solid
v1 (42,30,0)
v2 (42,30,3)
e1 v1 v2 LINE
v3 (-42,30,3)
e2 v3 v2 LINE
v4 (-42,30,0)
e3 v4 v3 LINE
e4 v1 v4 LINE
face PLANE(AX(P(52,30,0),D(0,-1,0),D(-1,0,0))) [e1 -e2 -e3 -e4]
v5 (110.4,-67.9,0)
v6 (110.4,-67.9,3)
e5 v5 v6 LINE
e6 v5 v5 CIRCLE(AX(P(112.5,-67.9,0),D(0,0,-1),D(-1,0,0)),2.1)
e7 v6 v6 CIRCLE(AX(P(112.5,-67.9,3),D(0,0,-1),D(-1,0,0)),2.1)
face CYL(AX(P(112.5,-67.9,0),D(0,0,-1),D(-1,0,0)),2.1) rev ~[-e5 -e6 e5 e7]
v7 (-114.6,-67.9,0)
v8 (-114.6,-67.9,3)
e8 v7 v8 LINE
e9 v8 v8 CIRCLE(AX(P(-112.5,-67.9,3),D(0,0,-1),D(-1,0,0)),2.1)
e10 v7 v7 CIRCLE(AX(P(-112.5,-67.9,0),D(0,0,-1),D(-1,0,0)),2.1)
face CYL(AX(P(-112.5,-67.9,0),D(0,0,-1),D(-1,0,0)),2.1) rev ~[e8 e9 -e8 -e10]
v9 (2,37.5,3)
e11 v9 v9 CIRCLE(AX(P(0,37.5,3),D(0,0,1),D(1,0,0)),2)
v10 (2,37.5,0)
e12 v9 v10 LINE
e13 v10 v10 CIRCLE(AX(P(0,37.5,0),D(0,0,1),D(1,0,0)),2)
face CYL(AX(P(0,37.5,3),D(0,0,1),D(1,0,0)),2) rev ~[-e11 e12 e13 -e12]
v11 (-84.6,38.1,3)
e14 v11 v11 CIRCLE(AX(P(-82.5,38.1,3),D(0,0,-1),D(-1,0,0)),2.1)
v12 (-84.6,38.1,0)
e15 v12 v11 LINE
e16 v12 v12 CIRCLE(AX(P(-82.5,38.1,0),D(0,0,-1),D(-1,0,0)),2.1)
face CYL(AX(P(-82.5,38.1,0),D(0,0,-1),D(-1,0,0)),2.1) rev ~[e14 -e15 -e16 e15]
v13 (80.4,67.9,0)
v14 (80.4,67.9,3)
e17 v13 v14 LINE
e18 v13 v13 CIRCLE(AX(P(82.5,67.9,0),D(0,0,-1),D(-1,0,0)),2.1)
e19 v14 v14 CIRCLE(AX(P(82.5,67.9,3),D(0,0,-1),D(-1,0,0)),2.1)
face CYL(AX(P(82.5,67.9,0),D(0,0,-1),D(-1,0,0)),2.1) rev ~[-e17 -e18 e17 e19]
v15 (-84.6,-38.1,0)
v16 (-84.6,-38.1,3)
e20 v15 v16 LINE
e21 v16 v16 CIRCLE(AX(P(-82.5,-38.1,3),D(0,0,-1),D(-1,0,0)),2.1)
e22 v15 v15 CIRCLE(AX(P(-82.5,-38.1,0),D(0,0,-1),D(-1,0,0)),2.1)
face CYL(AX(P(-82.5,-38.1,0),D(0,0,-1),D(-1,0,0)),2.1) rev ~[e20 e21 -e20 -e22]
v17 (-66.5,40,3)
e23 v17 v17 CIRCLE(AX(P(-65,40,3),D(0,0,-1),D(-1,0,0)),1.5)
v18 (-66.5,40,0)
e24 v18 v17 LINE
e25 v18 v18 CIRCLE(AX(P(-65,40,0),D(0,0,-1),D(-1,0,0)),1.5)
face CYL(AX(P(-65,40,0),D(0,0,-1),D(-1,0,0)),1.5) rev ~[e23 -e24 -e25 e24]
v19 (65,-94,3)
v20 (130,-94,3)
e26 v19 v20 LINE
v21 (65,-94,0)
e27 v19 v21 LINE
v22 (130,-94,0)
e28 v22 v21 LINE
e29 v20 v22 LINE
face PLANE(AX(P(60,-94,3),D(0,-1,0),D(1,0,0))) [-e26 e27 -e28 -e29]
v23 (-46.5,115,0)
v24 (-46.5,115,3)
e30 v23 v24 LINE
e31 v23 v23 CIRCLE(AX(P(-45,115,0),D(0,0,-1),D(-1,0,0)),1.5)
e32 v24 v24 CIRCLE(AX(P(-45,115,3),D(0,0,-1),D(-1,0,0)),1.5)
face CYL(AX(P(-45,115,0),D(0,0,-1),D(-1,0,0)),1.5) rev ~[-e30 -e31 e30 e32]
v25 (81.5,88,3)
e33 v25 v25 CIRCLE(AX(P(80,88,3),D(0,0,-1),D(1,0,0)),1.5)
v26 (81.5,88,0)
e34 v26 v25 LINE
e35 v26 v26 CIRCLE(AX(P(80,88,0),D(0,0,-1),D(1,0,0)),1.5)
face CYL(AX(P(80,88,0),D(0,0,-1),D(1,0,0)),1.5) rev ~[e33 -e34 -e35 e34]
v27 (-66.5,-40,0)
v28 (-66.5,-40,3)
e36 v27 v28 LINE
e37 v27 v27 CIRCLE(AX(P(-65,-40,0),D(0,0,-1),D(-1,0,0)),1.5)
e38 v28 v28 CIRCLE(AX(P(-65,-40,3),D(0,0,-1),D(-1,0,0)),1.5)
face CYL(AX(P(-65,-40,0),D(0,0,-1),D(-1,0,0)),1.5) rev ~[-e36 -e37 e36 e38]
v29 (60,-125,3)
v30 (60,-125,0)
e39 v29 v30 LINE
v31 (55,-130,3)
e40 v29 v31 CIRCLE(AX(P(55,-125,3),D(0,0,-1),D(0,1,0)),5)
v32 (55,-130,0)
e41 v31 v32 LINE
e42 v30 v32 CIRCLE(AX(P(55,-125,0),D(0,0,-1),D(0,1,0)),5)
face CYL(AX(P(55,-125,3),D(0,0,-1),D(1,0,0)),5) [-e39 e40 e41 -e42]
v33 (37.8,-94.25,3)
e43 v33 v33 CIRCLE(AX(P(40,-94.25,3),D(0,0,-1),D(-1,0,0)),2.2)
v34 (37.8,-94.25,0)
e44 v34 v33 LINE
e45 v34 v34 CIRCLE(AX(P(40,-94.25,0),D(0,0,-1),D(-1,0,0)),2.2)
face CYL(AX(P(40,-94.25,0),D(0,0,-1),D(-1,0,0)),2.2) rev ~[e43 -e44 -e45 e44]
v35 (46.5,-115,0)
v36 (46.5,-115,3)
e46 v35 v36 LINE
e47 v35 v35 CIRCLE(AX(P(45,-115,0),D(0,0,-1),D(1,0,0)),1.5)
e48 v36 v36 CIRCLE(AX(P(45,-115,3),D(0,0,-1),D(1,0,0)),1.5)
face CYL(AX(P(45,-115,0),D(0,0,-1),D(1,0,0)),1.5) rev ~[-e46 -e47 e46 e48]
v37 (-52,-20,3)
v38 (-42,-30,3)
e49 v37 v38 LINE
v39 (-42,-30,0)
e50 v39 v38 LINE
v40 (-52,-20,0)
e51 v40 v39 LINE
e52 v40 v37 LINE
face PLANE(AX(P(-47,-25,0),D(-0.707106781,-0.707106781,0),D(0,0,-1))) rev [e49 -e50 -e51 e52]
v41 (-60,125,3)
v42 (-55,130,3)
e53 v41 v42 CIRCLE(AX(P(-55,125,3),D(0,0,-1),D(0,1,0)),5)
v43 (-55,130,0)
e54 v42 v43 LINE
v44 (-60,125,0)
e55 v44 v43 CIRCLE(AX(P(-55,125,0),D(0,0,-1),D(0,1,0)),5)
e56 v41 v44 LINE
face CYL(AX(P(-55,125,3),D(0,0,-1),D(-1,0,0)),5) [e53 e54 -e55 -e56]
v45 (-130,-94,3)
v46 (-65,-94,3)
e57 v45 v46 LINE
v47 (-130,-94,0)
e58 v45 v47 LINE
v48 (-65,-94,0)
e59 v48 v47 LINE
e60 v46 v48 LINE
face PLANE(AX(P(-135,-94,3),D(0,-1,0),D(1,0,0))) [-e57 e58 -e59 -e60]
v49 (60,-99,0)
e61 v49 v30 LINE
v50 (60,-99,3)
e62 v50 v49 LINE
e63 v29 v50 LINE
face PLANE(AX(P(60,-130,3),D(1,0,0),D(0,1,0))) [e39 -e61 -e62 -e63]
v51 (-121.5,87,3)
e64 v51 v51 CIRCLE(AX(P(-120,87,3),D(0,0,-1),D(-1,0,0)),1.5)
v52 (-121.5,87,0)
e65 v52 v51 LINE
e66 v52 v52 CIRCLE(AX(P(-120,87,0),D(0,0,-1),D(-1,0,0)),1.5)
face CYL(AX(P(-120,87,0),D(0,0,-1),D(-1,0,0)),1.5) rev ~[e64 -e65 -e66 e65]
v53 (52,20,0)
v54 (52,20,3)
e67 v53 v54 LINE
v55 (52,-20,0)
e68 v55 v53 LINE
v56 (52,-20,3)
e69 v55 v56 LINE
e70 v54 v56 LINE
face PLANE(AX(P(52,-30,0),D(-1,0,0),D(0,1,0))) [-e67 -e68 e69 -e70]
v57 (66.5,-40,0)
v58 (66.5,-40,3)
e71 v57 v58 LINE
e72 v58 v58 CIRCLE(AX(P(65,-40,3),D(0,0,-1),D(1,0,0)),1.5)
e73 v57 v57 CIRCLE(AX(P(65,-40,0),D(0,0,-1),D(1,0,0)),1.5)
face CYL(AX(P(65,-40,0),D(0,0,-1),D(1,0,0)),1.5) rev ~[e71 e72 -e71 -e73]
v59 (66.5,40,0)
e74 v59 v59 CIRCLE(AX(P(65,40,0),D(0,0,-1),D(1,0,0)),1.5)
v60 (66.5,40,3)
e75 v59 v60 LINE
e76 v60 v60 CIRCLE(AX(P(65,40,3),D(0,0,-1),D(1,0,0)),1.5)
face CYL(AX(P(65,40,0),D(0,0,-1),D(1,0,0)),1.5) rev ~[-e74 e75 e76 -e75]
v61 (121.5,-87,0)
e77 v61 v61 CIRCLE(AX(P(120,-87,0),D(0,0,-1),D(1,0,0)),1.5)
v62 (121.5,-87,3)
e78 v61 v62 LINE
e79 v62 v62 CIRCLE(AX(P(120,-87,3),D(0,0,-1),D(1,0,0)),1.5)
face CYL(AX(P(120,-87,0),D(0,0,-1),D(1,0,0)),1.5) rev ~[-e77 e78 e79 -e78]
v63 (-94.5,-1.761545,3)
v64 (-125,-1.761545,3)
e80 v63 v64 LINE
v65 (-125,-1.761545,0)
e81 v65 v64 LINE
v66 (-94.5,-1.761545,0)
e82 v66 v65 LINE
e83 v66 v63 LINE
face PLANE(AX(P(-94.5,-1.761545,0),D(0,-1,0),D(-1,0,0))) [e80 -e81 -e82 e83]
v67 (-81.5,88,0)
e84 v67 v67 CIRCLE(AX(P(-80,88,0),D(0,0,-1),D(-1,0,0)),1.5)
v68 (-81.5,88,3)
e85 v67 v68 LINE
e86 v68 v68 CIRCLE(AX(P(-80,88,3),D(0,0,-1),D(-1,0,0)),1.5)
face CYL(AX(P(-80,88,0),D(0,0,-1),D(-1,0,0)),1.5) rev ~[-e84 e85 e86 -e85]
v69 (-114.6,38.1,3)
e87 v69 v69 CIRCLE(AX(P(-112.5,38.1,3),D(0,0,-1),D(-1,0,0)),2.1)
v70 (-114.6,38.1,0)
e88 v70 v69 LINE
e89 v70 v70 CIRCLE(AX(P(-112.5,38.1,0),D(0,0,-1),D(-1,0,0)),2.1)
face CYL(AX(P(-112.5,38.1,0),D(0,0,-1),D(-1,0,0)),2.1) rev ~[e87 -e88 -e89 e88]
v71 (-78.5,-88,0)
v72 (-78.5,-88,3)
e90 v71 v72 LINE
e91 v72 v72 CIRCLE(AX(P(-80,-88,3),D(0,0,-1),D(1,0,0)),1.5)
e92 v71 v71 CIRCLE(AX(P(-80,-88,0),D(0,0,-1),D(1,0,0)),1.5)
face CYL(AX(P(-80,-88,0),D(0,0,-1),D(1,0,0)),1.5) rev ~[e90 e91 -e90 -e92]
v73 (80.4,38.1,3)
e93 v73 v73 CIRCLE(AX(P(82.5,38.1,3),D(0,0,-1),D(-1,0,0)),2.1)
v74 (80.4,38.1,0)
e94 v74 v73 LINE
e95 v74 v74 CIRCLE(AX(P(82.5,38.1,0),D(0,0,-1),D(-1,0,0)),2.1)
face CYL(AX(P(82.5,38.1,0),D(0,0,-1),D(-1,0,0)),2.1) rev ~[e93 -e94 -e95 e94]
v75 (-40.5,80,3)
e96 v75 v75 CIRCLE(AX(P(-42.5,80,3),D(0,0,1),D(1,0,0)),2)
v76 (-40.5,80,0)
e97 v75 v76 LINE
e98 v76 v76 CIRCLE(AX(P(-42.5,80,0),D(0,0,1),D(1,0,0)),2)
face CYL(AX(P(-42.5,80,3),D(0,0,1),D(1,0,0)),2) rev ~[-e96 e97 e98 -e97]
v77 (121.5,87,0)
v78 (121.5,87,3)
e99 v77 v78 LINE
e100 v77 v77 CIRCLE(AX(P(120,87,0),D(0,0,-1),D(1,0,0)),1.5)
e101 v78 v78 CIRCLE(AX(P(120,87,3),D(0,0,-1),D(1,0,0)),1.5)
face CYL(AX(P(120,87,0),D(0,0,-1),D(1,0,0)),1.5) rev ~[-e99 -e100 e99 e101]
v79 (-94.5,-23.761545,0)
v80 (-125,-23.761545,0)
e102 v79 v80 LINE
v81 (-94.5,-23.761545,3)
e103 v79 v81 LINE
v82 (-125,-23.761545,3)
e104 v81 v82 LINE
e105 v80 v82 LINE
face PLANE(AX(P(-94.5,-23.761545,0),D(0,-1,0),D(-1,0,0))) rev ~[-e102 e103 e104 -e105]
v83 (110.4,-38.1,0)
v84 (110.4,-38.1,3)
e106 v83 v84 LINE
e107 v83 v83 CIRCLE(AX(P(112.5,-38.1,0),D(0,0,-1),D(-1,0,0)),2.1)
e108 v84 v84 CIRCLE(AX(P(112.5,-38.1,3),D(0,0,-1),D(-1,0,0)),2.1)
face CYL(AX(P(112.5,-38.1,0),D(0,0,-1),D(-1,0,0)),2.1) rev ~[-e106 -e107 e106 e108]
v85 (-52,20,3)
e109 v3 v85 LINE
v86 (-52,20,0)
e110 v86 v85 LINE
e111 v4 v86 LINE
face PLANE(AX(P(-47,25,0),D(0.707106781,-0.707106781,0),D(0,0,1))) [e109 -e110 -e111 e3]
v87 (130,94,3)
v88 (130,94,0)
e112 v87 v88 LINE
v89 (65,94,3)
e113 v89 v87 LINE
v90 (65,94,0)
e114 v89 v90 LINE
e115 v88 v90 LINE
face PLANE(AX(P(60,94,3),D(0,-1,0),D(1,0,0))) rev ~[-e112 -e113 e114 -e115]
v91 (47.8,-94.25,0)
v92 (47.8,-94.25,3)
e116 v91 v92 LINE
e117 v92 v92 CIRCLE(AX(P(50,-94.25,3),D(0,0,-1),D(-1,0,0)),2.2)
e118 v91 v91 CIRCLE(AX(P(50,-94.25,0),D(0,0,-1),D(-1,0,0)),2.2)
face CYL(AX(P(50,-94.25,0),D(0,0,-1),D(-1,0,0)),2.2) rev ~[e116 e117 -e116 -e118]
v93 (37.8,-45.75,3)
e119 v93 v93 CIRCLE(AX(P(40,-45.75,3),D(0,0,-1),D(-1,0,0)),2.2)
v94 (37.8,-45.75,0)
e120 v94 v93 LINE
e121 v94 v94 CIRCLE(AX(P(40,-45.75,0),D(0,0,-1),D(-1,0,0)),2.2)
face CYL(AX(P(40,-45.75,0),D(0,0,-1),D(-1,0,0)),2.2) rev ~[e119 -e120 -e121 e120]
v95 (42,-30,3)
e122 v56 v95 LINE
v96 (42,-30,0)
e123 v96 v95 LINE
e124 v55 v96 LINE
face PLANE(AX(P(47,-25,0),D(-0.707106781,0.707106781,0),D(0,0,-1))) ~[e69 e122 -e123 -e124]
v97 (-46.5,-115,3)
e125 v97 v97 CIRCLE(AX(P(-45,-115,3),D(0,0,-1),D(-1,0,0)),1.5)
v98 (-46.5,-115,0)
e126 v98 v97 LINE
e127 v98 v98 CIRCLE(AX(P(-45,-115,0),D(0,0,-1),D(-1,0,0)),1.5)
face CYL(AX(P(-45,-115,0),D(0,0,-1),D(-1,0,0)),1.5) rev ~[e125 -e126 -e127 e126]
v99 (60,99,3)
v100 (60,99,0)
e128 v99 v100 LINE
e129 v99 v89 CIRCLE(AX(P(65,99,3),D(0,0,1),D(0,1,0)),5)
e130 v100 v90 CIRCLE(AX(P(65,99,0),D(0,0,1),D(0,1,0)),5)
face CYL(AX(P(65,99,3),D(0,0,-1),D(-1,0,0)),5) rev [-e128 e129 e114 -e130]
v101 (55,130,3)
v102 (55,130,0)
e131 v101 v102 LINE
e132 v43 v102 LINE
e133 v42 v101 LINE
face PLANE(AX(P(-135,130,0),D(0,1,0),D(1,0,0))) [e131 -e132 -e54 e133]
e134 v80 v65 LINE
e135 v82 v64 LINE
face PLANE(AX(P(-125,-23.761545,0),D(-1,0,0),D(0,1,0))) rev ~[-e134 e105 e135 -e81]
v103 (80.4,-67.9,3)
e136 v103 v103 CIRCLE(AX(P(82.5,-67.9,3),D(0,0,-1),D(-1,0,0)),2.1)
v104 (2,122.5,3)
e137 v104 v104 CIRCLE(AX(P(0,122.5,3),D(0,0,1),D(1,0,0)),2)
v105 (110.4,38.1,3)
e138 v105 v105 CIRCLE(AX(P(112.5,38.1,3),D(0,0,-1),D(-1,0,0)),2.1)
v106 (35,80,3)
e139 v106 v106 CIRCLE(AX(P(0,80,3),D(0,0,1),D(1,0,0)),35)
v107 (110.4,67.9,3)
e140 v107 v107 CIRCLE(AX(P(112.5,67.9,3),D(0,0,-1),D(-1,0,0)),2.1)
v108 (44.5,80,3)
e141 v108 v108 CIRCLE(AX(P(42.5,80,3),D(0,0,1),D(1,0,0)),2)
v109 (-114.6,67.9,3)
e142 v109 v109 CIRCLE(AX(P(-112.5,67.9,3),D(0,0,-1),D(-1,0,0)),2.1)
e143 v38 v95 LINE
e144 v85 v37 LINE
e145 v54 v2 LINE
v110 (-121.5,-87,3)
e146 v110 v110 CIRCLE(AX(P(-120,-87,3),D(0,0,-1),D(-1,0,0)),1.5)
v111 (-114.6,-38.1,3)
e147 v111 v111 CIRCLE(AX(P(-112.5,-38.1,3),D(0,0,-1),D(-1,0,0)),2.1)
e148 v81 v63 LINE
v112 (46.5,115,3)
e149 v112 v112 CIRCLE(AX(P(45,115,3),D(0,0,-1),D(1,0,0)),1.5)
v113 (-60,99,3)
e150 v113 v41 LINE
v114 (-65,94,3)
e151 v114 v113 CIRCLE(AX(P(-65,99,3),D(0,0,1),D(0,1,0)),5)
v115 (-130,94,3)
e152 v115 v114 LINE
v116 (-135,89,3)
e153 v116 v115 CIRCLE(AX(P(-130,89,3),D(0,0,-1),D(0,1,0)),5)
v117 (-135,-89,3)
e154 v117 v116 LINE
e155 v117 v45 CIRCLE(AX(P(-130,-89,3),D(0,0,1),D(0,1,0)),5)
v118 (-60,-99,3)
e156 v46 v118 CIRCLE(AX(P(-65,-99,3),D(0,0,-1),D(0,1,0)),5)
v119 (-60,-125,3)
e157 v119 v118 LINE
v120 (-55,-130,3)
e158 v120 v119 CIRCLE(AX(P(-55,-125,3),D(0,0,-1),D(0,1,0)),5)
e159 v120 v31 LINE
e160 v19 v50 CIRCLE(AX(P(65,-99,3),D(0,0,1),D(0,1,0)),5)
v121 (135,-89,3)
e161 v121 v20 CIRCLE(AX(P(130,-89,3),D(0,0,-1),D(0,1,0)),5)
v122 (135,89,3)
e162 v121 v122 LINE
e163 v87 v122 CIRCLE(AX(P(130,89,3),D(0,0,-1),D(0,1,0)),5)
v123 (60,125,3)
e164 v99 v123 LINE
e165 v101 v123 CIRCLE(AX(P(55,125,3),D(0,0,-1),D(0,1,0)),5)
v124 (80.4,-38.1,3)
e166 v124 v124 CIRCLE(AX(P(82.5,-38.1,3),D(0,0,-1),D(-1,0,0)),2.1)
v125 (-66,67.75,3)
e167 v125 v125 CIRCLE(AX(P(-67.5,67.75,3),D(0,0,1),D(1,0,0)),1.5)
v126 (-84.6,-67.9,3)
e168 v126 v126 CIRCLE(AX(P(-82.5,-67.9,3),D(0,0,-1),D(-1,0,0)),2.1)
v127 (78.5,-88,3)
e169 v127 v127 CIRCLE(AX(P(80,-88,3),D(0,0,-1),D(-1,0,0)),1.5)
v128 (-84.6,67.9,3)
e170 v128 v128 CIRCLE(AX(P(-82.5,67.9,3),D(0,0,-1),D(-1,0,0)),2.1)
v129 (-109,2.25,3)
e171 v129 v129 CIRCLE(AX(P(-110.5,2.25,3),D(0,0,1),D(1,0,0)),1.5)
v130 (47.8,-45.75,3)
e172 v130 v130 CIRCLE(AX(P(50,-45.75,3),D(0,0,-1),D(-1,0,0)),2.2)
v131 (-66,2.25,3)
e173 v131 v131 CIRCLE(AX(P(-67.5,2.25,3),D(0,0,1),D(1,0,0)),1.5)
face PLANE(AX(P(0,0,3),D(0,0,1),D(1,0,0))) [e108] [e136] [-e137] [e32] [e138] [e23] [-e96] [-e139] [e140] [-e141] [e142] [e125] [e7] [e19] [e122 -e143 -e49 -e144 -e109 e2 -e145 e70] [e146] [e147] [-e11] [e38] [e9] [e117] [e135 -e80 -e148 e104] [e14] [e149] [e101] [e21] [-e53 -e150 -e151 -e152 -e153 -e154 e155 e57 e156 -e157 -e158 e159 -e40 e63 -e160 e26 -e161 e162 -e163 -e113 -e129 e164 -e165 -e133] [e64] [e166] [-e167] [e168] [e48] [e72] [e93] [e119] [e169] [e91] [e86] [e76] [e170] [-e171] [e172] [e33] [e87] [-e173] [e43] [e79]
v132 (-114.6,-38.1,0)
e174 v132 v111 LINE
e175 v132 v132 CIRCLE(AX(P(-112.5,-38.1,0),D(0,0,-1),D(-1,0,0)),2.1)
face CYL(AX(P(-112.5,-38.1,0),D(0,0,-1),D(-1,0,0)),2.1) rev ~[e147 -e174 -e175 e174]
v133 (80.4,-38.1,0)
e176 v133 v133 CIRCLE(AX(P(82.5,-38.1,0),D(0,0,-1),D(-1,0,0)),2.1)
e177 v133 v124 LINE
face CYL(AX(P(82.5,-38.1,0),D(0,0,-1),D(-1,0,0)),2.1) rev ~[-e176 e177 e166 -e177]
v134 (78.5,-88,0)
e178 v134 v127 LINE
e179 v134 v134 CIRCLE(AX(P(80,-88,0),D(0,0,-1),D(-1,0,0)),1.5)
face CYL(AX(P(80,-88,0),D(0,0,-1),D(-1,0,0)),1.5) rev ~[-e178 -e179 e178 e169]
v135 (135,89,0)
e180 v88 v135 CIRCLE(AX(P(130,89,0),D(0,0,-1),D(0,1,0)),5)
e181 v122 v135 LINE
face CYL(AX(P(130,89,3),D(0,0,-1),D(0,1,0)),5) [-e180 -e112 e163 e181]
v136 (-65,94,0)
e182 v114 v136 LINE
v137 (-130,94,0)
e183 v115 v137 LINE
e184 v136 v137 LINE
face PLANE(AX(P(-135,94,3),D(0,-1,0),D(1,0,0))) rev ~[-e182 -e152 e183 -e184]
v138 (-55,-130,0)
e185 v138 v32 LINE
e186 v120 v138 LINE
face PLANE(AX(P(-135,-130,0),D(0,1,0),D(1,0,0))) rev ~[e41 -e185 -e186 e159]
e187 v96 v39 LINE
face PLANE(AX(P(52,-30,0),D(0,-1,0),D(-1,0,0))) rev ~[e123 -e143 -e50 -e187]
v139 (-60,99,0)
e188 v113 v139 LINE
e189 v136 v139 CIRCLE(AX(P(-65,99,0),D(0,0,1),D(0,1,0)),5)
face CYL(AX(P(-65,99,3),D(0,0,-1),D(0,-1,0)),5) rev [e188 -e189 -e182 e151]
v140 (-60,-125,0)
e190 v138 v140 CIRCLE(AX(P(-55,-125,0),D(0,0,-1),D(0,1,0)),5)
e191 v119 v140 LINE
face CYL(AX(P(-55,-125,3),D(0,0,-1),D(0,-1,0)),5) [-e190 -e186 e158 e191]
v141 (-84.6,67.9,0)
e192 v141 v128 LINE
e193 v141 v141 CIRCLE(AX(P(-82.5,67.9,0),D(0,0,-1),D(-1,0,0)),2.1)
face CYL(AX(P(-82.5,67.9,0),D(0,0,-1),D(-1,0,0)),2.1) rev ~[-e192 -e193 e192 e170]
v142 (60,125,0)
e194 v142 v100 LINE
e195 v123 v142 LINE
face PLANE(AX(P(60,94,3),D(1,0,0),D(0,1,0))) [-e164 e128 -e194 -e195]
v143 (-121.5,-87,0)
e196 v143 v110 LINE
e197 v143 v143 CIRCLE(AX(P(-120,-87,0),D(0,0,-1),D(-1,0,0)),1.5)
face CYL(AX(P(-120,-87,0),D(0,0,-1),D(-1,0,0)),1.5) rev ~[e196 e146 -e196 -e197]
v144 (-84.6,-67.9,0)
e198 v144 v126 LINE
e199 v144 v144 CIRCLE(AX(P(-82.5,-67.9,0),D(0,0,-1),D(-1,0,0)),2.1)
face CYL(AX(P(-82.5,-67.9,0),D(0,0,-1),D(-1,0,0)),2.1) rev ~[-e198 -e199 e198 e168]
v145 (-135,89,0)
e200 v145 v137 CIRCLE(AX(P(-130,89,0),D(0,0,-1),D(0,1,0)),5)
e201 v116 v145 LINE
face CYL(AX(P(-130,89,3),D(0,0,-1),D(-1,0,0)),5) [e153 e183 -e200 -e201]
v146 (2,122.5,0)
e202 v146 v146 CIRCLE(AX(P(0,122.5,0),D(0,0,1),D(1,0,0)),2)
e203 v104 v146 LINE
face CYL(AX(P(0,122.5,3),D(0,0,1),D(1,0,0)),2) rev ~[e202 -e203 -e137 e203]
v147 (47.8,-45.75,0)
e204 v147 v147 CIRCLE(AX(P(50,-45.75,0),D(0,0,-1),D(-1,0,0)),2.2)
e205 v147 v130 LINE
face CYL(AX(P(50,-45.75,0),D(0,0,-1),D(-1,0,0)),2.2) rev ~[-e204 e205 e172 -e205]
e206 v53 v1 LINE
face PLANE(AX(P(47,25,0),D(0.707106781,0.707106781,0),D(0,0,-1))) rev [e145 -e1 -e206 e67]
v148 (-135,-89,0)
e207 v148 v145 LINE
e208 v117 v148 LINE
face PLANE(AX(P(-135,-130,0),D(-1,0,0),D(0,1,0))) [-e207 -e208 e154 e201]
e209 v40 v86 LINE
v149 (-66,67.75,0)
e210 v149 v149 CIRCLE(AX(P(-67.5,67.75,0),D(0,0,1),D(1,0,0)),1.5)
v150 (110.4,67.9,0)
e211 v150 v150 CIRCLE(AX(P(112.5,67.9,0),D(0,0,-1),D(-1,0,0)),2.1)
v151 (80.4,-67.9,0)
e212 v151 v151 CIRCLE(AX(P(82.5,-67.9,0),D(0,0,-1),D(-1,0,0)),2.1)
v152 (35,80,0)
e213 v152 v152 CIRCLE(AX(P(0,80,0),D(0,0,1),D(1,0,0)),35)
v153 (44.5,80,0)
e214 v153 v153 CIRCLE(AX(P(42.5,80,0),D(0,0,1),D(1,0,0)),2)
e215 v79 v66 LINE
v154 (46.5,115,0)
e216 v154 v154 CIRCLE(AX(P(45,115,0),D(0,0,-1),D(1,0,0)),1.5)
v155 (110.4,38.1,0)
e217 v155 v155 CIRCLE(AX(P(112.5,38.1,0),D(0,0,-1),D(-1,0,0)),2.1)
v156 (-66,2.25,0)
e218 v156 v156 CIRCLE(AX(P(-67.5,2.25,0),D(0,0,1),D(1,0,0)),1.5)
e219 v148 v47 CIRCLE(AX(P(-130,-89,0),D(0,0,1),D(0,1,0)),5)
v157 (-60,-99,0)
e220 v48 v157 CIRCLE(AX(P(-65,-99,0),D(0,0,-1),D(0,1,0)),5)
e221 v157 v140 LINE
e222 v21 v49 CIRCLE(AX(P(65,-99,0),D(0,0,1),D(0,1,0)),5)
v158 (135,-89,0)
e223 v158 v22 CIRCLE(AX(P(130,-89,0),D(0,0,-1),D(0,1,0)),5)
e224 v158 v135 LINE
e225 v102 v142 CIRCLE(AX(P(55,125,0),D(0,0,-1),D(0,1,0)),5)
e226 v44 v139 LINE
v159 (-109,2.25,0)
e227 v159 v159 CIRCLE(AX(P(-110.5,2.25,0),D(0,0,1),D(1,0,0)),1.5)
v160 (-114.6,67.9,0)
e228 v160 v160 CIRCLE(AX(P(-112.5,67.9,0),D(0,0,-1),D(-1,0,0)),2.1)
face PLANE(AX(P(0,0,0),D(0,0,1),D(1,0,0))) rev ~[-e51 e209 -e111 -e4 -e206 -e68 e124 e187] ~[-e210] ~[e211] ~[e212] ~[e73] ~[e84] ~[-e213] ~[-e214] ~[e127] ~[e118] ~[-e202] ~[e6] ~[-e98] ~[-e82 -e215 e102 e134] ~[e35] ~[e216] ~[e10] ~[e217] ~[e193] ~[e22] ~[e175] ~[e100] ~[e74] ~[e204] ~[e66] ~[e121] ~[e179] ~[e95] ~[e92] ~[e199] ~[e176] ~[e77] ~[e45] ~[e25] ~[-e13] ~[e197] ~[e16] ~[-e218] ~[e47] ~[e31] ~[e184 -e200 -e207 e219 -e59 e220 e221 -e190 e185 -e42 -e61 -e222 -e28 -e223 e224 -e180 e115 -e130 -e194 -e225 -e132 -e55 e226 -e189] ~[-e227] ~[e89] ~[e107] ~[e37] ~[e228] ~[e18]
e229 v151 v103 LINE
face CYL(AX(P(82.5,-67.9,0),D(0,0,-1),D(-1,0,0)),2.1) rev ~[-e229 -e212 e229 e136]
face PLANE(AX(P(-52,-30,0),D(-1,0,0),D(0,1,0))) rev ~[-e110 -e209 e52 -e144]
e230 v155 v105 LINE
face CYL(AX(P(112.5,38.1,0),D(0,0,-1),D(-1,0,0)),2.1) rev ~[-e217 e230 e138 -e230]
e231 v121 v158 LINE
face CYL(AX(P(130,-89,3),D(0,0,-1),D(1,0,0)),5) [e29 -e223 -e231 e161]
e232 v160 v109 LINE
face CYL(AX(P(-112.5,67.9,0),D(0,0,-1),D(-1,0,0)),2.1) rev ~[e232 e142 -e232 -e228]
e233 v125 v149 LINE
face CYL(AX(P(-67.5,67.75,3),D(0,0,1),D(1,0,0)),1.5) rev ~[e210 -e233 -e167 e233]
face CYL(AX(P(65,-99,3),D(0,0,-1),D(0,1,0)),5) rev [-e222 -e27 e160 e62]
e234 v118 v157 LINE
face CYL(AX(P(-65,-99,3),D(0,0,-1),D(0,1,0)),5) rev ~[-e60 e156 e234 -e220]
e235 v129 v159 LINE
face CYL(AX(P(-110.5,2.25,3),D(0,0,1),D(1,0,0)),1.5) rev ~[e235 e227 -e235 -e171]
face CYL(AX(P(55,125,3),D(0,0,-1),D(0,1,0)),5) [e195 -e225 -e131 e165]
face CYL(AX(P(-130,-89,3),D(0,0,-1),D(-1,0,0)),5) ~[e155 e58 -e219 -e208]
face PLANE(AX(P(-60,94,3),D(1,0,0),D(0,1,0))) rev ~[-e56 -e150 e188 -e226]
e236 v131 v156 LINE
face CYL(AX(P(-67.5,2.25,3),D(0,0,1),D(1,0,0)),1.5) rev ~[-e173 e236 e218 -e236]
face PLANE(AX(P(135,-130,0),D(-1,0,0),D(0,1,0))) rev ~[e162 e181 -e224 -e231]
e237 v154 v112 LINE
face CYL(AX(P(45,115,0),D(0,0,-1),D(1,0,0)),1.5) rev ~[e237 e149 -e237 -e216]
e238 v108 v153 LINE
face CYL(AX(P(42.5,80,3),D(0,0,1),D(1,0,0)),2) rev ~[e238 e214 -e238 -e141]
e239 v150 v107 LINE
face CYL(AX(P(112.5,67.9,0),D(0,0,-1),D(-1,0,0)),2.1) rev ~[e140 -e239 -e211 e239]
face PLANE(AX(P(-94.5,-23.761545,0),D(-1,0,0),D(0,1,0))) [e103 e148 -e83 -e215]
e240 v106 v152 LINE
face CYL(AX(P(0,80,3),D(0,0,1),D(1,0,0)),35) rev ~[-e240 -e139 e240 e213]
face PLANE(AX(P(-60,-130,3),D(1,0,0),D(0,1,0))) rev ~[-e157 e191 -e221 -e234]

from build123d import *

# Parameters (mm, degrees)
SKETCH_1_W          = 270
SKETCH_1_H          = 260
EXTRUDE_1_DEPTH     = 3
CUT_EXTRUDE_1_REACH = 189.441
SKETCH_2_W          = 75
SKETCH_2_H          = 36
FILLET_1_R          = 5
SKETCH_3_R          = 35
CUT_EXTRUDE_2_DEPTH = 10
SKETCH_4_R          = 2.1
CUT_EXTRUDE_3_DEPTH = 4.55
SKETCH_5_R          = 1.5
SKETCH_5_R_2        = 2.2
CUT_EXTRUDE_4_DEPTH = 188.440657276
SKETCH_6_R          = 1.5
CUT_EXTRUDE_5_DEPTH = 188.440657276
SKETCH_7_R          = 1.5
CUT_EXTRUDE_6_DEPTH = 188.440657276
SKETCH_8_W          = 104
SKETCH_8_H          = 60
CUT_EXTRUDE_7_DEPTH = 188.440657276
CHAMFER_1_SIZE      = 10
SKETCH_9_R          = 2
CUT_EXTRUDE_8_DEPTH = 188.440657276
CUT_EXTRUDE_9_REACH = 189.441
SKETCH_11_W         = 30.5
SKETCH_11_H         = 22


with BuildPart() as part:
    # 草图1 → 凸台-拉伸1 (new body)
    with BuildSketch(Plane.XY):
        Rectangle(SKETCH_1_W, SKETCH_1_H)
    extrude(amount=EXTRUDE_1_DEPTH)

    # 草图2 → 切除-拉伸1 (cut, up to next)
    with BuildSketch(Plane.XY.offset(3), mode=Mode.PRIVATE) as cut_extrude_1_sk1:
        with Locations((97.5, -112)):
            Rectangle(SKETCH_2_W, SKETCH_2_H)
    cut_extrude_1_tool1 = extrude(cut_extrude_1_sk1.sketch, amount=-CUT_EXTRUDE_1_REACH, mode=Mode.PRIVATE) & part.part
    # 草图2 → 切除-拉伸1 (cut, up to next)
    with BuildSketch(Plane.XY.offset(3), mode=Mode.PRIVATE) as cut_extrude_1_sk2:
        with Locations((-97.5, -112)):
            Rectangle(SKETCH_2_W, SKETCH_2_H)
    cut_extrude_1_tool2 = extrude(cut_extrude_1_sk2.sketch, amount=-CUT_EXTRUDE_1_REACH, mode=Mode.PRIVATE) & part.part
    # 草图2 → 切除-拉伸1 (cut, up to next)
    with BuildSketch(Plane.XY.offset(3), mode=Mode.PRIVATE) as cut_extrude_1_sk3:
        with Locations((-97.5, 112)):
            Rectangle(SKETCH_2_W, SKETCH_2_H)
    cut_extrude_1_tool3 = extrude(cut_extrude_1_sk3.sketch, amount=-CUT_EXTRUDE_1_REACH, mode=Mode.PRIVATE) & part.part
    # 草图2 → 切除-拉伸1 (cut, up to next)
    with BuildSketch(Plane.XY.offset(3), mode=Mode.PRIVATE) as cut_extrude_1_sk4:
        with Locations((97.5, 112)):
            Rectangle(SKETCH_2_W, SKETCH_2_H)
    cut_extrude_1_tool4 = extrude(cut_extrude_1_sk4.sketch, amount=-CUT_EXTRUDE_1_REACH, mode=Mode.PRIVATE) & part.part
    add(cut_extrude_1_tool1.solids().sort_by_distance((97.5, -112, 3))[0], mode=Mode.SUBTRACT)
    add(cut_extrude_1_tool2.solids().sort_by_distance((-97.5, -112, 3))[0], mode=Mode.SUBTRACT)
    add(cut_extrude_1_tool3.solids().sort_by_distance((-97.5, 112, 3))[0], mode=Mode.SUBTRACT)
    add(cut_extrude_1_tool4.solids().sort_by_distance((97.5, 112, 3))[0], mode=Mode.SUBTRACT)

    # 圆角1
    fillet_1_edges = [part.edges().sort_by_distance(p)[0] for p in [
        (60, 130, 1.5),
        (135, 94, 1.5),
        (60, 94, 1.5),
        (-135, 94, 1.5),
        (-60, 130, 1.5),
        (-60, 94, 1.5),
        (-60, -130, 1.5),
        (-135, -94, 1.5),
        (-60, -94, 1.5),
        (135, -94, 1.5),
        (60, -130, 1.5),
        (60, -94, 1.5),
    ]]
    fillet(fillet_1_edges, radius=FILLET_1_R)

    # 草图3 → 切除-拉伸2 (cut)
    with BuildSketch(Plane.XY.offset(3)):
        with Locations((0, 80)):
            Circle(SKETCH_3_R)
    extrude(amount=-CUT_EXTRUDE_2_DEPTH, mode=Mode.SUBTRACT)

    # 草图4 → 切除-拉伸3 (cut)
    with BuildSketch(Plane(origin=(0, 0, 0), x_dir=(-1, 0, 0), z_dir=(0, 0, -1))):
        with Locations((-112.5, -38.1)):
            Circle(SKETCH_4_R)
        with Locations((-112.5, -67.9)):
            Circle(SKETCH_4_R)
        with Locations((-82.5, -38.1)):
            Circle(SKETCH_4_R)
        with Locations((-82.5, -67.9)):
            Circle(SKETCH_4_R)
        with Locations((-82.5, 67.9)):
            Circle(SKETCH_4_R)
        with Locations((-82.5, 38.1)):
            Circle(SKETCH_4_R)
        with Locations((-112.5, 67.9)):
            Circle(SKETCH_4_R)
        with Locations((-112.5, 38.1)):
            Circle(SKETCH_4_R)
        with Locations((112.5, 38.1)):
            Circle(SKETCH_4_R)
        with Locations((112.5, 67.9)):
            Circle(SKETCH_4_R)
        with Locations((82.5, 38.1)):
            Circle(SKETCH_4_R)
        with Locations((82.5, 67.9)):
            Circle(SKETCH_4_R)
        with Locations((82.5, -67.9)):
            Circle(SKETCH_4_R)
        with Locations((82.5, -38.1)):
            Circle(SKETCH_4_R)
        with Locations((112.5, -67.9)):
            Circle(SKETCH_4_R)
        with Locations((112.5, -38.1)):
            Circle(SKETCH_4_R)
    extrude(amount=-CUT_EXTRUDE_3_DEPTH, mode=Mode.SUBTRACT)

    # 草图5 → 切除-拉伸4 (cut, through all)
    with BuildSketch(Plane(origin=(0, 0, 0), x_dir=(-1, 0, 0), z_dir=(0, 0, -1))):
        with Locations((45, 115)):
            Circle(SKETCH_5_R)
        with Locations((120, 87)):
            Circle(SKETCH_5_R)
        with Locations((120, -87)):
            Circle(SKETCH_5_R)
        with Locations((45, -115)):
            Circle(SKETCH_5_R)
        with Locations((65, -40)):
            Circle(SKETCH_5_R)
        with Locations((65, 40)):
            Circle(SKETCH_5_R)
        with Locations(Location((-65, 40, 0), (0, 0, 180))):
            Circle(SKETCH_5_R)
        with Locations(Location((-65, -40, 0), (0, 0, 180))):
            Circle(SKETCH_5_R)
        with Locations(Location((-45, -115, 0), (0, 0, 180))):
            Circle(SKETCH_5_R)
        with Locations(Location((-120, -87, 0), (0, 0, 180))):
            Circle(SKETCH_5_R)
        with Locations(Location((-120, 87, 0), (0, 0, 180))):
            Circle(SKETCH_5_R)
        with Locations(Location((-45, 115, 0), (0, 0, 180))):
            Circle(SKETCH_5_R)
        with Locations((-50, -94.25)):
            Circle(SKETCH_5_R_2)
        with Locations((-40, -94.25)):
            Circle(SKETCH_5_R_2)
        with Locations((-50, -45.75)):
            Circle(SKETCH_5_R_2)
        with Locations((-40, -45.75)):
            Circle(SKETCH_5_R_2)
    extrude(amount=-CUT_EXTRUDE_4_DEPTH, mode=Mode.SUBTRACT)

    # 草图6 → 切除-拉伸5 (cut, through all)
    with BuildSketch(Plane.XY.offset(3)):
        with Locations((-110.5, 2.25)):
            Circle(SKETCH_6_R)
        with Locations((-67.5, 2.25)):
            Circle(SKETCH_6_R)
        with Locations((-67.5, 67.75)):
            Circle(SKETCH_6_R)
    extrude(amount=-CUT_EXTRUDE_5_DEPTH, mode=Mode.SUBTRACT)

    # 草图7 → 切除-拉伸6 (cut, through all)
    with BuildSketch(Plane(origin=(0, 0, 0), x_dir=(-1, 0, 0), z_dir=(0, 0, -1))):
        with Locations((80, 88)):
            Circle(SKETCH_7_R)
        with Locations(Location((-80, 88, 0), (0, 0, 180))):
            Circle(SKETCH_7_R)
        with Locations(Location((80, -88, 0), (0, 0, 180))):
            Circle(SKETCH_7_R)
        with Locations((-80, -88)):
            Circle(SKETCH_7_R)
    extrude(amount=-CUT_EXTRUDE_6_DEPTH, mode=Mode.SUBTRACT)

    # 草图8 → 切除-拉伸7 (cut, through all)
    with BuildSketch(Plane(origin=(0, 0, 0), x_dir=(-1, 0, 0), z_dir=(0, 0, -1))):
        Rectangle(SKETCH_8_W, SKETCH_8_H)
    extrude(amount=-CUT_EXTRUDE_7_DEPTH, mode=Mode.SUBTRACT)

    # 倒角1
    chamfer_1_edges = [part.edges().sort_by_distance(p)[0] for p in [
        (52, -30, 1.5),
        (52, 30, 1.5),
        (-52, 30, 1.5),
        (-52, -30, 1.5),
    ]]
    chamfer(chamfer_1_edges, length=CHAMFER_1_SIZE)

    # 草图9 → 切除-拉伸8 (cut, through all)
    with BuildSketch(Plane.XY.offset(3)):
        with Locations((42.5, 80)):
            Circle(SKETCH_9_R)
        with Locations((0, 37.5)):
            Circle(SKETCH_9_R)
        with Locations((-42.5, 80)):
            Circle(SKETCH_9_R)
        with Locations((0, 122.5)):
            Circle(SKETCH_9_R)
    extrude(amount=-CUT_EXTRUDE_8_DEPTH, mode=Mode.SUBTRACT)

    # 草图11 → 切除-拉伸9 (cut, up to next)
    with BuildSketch(Plane(origin=(0, 0, 0), x_dir=(-1, 0, 0), z_dir=(0, 0, -1)), mode=Mode.PRIVATE) as cut_extrude_9_sk1:
        with Locations((109.75, -12.761545207)):
            Rectangle(SKETCH_11_W, SKETCH_11_H)
    cut_extrude_9_tool1 = extrude(cut_extrude_9_sk1.sketch, amount=-CUT_EXTRUDE_9_REACH, mode=Mode.PRIVATE) & part.part
    add(cut_extrude_9_tool1.solids().sort_by_distance((-109.75, -12.761545, 0))[0], mode=Mode.SUBTRACT)


solid = part.part
